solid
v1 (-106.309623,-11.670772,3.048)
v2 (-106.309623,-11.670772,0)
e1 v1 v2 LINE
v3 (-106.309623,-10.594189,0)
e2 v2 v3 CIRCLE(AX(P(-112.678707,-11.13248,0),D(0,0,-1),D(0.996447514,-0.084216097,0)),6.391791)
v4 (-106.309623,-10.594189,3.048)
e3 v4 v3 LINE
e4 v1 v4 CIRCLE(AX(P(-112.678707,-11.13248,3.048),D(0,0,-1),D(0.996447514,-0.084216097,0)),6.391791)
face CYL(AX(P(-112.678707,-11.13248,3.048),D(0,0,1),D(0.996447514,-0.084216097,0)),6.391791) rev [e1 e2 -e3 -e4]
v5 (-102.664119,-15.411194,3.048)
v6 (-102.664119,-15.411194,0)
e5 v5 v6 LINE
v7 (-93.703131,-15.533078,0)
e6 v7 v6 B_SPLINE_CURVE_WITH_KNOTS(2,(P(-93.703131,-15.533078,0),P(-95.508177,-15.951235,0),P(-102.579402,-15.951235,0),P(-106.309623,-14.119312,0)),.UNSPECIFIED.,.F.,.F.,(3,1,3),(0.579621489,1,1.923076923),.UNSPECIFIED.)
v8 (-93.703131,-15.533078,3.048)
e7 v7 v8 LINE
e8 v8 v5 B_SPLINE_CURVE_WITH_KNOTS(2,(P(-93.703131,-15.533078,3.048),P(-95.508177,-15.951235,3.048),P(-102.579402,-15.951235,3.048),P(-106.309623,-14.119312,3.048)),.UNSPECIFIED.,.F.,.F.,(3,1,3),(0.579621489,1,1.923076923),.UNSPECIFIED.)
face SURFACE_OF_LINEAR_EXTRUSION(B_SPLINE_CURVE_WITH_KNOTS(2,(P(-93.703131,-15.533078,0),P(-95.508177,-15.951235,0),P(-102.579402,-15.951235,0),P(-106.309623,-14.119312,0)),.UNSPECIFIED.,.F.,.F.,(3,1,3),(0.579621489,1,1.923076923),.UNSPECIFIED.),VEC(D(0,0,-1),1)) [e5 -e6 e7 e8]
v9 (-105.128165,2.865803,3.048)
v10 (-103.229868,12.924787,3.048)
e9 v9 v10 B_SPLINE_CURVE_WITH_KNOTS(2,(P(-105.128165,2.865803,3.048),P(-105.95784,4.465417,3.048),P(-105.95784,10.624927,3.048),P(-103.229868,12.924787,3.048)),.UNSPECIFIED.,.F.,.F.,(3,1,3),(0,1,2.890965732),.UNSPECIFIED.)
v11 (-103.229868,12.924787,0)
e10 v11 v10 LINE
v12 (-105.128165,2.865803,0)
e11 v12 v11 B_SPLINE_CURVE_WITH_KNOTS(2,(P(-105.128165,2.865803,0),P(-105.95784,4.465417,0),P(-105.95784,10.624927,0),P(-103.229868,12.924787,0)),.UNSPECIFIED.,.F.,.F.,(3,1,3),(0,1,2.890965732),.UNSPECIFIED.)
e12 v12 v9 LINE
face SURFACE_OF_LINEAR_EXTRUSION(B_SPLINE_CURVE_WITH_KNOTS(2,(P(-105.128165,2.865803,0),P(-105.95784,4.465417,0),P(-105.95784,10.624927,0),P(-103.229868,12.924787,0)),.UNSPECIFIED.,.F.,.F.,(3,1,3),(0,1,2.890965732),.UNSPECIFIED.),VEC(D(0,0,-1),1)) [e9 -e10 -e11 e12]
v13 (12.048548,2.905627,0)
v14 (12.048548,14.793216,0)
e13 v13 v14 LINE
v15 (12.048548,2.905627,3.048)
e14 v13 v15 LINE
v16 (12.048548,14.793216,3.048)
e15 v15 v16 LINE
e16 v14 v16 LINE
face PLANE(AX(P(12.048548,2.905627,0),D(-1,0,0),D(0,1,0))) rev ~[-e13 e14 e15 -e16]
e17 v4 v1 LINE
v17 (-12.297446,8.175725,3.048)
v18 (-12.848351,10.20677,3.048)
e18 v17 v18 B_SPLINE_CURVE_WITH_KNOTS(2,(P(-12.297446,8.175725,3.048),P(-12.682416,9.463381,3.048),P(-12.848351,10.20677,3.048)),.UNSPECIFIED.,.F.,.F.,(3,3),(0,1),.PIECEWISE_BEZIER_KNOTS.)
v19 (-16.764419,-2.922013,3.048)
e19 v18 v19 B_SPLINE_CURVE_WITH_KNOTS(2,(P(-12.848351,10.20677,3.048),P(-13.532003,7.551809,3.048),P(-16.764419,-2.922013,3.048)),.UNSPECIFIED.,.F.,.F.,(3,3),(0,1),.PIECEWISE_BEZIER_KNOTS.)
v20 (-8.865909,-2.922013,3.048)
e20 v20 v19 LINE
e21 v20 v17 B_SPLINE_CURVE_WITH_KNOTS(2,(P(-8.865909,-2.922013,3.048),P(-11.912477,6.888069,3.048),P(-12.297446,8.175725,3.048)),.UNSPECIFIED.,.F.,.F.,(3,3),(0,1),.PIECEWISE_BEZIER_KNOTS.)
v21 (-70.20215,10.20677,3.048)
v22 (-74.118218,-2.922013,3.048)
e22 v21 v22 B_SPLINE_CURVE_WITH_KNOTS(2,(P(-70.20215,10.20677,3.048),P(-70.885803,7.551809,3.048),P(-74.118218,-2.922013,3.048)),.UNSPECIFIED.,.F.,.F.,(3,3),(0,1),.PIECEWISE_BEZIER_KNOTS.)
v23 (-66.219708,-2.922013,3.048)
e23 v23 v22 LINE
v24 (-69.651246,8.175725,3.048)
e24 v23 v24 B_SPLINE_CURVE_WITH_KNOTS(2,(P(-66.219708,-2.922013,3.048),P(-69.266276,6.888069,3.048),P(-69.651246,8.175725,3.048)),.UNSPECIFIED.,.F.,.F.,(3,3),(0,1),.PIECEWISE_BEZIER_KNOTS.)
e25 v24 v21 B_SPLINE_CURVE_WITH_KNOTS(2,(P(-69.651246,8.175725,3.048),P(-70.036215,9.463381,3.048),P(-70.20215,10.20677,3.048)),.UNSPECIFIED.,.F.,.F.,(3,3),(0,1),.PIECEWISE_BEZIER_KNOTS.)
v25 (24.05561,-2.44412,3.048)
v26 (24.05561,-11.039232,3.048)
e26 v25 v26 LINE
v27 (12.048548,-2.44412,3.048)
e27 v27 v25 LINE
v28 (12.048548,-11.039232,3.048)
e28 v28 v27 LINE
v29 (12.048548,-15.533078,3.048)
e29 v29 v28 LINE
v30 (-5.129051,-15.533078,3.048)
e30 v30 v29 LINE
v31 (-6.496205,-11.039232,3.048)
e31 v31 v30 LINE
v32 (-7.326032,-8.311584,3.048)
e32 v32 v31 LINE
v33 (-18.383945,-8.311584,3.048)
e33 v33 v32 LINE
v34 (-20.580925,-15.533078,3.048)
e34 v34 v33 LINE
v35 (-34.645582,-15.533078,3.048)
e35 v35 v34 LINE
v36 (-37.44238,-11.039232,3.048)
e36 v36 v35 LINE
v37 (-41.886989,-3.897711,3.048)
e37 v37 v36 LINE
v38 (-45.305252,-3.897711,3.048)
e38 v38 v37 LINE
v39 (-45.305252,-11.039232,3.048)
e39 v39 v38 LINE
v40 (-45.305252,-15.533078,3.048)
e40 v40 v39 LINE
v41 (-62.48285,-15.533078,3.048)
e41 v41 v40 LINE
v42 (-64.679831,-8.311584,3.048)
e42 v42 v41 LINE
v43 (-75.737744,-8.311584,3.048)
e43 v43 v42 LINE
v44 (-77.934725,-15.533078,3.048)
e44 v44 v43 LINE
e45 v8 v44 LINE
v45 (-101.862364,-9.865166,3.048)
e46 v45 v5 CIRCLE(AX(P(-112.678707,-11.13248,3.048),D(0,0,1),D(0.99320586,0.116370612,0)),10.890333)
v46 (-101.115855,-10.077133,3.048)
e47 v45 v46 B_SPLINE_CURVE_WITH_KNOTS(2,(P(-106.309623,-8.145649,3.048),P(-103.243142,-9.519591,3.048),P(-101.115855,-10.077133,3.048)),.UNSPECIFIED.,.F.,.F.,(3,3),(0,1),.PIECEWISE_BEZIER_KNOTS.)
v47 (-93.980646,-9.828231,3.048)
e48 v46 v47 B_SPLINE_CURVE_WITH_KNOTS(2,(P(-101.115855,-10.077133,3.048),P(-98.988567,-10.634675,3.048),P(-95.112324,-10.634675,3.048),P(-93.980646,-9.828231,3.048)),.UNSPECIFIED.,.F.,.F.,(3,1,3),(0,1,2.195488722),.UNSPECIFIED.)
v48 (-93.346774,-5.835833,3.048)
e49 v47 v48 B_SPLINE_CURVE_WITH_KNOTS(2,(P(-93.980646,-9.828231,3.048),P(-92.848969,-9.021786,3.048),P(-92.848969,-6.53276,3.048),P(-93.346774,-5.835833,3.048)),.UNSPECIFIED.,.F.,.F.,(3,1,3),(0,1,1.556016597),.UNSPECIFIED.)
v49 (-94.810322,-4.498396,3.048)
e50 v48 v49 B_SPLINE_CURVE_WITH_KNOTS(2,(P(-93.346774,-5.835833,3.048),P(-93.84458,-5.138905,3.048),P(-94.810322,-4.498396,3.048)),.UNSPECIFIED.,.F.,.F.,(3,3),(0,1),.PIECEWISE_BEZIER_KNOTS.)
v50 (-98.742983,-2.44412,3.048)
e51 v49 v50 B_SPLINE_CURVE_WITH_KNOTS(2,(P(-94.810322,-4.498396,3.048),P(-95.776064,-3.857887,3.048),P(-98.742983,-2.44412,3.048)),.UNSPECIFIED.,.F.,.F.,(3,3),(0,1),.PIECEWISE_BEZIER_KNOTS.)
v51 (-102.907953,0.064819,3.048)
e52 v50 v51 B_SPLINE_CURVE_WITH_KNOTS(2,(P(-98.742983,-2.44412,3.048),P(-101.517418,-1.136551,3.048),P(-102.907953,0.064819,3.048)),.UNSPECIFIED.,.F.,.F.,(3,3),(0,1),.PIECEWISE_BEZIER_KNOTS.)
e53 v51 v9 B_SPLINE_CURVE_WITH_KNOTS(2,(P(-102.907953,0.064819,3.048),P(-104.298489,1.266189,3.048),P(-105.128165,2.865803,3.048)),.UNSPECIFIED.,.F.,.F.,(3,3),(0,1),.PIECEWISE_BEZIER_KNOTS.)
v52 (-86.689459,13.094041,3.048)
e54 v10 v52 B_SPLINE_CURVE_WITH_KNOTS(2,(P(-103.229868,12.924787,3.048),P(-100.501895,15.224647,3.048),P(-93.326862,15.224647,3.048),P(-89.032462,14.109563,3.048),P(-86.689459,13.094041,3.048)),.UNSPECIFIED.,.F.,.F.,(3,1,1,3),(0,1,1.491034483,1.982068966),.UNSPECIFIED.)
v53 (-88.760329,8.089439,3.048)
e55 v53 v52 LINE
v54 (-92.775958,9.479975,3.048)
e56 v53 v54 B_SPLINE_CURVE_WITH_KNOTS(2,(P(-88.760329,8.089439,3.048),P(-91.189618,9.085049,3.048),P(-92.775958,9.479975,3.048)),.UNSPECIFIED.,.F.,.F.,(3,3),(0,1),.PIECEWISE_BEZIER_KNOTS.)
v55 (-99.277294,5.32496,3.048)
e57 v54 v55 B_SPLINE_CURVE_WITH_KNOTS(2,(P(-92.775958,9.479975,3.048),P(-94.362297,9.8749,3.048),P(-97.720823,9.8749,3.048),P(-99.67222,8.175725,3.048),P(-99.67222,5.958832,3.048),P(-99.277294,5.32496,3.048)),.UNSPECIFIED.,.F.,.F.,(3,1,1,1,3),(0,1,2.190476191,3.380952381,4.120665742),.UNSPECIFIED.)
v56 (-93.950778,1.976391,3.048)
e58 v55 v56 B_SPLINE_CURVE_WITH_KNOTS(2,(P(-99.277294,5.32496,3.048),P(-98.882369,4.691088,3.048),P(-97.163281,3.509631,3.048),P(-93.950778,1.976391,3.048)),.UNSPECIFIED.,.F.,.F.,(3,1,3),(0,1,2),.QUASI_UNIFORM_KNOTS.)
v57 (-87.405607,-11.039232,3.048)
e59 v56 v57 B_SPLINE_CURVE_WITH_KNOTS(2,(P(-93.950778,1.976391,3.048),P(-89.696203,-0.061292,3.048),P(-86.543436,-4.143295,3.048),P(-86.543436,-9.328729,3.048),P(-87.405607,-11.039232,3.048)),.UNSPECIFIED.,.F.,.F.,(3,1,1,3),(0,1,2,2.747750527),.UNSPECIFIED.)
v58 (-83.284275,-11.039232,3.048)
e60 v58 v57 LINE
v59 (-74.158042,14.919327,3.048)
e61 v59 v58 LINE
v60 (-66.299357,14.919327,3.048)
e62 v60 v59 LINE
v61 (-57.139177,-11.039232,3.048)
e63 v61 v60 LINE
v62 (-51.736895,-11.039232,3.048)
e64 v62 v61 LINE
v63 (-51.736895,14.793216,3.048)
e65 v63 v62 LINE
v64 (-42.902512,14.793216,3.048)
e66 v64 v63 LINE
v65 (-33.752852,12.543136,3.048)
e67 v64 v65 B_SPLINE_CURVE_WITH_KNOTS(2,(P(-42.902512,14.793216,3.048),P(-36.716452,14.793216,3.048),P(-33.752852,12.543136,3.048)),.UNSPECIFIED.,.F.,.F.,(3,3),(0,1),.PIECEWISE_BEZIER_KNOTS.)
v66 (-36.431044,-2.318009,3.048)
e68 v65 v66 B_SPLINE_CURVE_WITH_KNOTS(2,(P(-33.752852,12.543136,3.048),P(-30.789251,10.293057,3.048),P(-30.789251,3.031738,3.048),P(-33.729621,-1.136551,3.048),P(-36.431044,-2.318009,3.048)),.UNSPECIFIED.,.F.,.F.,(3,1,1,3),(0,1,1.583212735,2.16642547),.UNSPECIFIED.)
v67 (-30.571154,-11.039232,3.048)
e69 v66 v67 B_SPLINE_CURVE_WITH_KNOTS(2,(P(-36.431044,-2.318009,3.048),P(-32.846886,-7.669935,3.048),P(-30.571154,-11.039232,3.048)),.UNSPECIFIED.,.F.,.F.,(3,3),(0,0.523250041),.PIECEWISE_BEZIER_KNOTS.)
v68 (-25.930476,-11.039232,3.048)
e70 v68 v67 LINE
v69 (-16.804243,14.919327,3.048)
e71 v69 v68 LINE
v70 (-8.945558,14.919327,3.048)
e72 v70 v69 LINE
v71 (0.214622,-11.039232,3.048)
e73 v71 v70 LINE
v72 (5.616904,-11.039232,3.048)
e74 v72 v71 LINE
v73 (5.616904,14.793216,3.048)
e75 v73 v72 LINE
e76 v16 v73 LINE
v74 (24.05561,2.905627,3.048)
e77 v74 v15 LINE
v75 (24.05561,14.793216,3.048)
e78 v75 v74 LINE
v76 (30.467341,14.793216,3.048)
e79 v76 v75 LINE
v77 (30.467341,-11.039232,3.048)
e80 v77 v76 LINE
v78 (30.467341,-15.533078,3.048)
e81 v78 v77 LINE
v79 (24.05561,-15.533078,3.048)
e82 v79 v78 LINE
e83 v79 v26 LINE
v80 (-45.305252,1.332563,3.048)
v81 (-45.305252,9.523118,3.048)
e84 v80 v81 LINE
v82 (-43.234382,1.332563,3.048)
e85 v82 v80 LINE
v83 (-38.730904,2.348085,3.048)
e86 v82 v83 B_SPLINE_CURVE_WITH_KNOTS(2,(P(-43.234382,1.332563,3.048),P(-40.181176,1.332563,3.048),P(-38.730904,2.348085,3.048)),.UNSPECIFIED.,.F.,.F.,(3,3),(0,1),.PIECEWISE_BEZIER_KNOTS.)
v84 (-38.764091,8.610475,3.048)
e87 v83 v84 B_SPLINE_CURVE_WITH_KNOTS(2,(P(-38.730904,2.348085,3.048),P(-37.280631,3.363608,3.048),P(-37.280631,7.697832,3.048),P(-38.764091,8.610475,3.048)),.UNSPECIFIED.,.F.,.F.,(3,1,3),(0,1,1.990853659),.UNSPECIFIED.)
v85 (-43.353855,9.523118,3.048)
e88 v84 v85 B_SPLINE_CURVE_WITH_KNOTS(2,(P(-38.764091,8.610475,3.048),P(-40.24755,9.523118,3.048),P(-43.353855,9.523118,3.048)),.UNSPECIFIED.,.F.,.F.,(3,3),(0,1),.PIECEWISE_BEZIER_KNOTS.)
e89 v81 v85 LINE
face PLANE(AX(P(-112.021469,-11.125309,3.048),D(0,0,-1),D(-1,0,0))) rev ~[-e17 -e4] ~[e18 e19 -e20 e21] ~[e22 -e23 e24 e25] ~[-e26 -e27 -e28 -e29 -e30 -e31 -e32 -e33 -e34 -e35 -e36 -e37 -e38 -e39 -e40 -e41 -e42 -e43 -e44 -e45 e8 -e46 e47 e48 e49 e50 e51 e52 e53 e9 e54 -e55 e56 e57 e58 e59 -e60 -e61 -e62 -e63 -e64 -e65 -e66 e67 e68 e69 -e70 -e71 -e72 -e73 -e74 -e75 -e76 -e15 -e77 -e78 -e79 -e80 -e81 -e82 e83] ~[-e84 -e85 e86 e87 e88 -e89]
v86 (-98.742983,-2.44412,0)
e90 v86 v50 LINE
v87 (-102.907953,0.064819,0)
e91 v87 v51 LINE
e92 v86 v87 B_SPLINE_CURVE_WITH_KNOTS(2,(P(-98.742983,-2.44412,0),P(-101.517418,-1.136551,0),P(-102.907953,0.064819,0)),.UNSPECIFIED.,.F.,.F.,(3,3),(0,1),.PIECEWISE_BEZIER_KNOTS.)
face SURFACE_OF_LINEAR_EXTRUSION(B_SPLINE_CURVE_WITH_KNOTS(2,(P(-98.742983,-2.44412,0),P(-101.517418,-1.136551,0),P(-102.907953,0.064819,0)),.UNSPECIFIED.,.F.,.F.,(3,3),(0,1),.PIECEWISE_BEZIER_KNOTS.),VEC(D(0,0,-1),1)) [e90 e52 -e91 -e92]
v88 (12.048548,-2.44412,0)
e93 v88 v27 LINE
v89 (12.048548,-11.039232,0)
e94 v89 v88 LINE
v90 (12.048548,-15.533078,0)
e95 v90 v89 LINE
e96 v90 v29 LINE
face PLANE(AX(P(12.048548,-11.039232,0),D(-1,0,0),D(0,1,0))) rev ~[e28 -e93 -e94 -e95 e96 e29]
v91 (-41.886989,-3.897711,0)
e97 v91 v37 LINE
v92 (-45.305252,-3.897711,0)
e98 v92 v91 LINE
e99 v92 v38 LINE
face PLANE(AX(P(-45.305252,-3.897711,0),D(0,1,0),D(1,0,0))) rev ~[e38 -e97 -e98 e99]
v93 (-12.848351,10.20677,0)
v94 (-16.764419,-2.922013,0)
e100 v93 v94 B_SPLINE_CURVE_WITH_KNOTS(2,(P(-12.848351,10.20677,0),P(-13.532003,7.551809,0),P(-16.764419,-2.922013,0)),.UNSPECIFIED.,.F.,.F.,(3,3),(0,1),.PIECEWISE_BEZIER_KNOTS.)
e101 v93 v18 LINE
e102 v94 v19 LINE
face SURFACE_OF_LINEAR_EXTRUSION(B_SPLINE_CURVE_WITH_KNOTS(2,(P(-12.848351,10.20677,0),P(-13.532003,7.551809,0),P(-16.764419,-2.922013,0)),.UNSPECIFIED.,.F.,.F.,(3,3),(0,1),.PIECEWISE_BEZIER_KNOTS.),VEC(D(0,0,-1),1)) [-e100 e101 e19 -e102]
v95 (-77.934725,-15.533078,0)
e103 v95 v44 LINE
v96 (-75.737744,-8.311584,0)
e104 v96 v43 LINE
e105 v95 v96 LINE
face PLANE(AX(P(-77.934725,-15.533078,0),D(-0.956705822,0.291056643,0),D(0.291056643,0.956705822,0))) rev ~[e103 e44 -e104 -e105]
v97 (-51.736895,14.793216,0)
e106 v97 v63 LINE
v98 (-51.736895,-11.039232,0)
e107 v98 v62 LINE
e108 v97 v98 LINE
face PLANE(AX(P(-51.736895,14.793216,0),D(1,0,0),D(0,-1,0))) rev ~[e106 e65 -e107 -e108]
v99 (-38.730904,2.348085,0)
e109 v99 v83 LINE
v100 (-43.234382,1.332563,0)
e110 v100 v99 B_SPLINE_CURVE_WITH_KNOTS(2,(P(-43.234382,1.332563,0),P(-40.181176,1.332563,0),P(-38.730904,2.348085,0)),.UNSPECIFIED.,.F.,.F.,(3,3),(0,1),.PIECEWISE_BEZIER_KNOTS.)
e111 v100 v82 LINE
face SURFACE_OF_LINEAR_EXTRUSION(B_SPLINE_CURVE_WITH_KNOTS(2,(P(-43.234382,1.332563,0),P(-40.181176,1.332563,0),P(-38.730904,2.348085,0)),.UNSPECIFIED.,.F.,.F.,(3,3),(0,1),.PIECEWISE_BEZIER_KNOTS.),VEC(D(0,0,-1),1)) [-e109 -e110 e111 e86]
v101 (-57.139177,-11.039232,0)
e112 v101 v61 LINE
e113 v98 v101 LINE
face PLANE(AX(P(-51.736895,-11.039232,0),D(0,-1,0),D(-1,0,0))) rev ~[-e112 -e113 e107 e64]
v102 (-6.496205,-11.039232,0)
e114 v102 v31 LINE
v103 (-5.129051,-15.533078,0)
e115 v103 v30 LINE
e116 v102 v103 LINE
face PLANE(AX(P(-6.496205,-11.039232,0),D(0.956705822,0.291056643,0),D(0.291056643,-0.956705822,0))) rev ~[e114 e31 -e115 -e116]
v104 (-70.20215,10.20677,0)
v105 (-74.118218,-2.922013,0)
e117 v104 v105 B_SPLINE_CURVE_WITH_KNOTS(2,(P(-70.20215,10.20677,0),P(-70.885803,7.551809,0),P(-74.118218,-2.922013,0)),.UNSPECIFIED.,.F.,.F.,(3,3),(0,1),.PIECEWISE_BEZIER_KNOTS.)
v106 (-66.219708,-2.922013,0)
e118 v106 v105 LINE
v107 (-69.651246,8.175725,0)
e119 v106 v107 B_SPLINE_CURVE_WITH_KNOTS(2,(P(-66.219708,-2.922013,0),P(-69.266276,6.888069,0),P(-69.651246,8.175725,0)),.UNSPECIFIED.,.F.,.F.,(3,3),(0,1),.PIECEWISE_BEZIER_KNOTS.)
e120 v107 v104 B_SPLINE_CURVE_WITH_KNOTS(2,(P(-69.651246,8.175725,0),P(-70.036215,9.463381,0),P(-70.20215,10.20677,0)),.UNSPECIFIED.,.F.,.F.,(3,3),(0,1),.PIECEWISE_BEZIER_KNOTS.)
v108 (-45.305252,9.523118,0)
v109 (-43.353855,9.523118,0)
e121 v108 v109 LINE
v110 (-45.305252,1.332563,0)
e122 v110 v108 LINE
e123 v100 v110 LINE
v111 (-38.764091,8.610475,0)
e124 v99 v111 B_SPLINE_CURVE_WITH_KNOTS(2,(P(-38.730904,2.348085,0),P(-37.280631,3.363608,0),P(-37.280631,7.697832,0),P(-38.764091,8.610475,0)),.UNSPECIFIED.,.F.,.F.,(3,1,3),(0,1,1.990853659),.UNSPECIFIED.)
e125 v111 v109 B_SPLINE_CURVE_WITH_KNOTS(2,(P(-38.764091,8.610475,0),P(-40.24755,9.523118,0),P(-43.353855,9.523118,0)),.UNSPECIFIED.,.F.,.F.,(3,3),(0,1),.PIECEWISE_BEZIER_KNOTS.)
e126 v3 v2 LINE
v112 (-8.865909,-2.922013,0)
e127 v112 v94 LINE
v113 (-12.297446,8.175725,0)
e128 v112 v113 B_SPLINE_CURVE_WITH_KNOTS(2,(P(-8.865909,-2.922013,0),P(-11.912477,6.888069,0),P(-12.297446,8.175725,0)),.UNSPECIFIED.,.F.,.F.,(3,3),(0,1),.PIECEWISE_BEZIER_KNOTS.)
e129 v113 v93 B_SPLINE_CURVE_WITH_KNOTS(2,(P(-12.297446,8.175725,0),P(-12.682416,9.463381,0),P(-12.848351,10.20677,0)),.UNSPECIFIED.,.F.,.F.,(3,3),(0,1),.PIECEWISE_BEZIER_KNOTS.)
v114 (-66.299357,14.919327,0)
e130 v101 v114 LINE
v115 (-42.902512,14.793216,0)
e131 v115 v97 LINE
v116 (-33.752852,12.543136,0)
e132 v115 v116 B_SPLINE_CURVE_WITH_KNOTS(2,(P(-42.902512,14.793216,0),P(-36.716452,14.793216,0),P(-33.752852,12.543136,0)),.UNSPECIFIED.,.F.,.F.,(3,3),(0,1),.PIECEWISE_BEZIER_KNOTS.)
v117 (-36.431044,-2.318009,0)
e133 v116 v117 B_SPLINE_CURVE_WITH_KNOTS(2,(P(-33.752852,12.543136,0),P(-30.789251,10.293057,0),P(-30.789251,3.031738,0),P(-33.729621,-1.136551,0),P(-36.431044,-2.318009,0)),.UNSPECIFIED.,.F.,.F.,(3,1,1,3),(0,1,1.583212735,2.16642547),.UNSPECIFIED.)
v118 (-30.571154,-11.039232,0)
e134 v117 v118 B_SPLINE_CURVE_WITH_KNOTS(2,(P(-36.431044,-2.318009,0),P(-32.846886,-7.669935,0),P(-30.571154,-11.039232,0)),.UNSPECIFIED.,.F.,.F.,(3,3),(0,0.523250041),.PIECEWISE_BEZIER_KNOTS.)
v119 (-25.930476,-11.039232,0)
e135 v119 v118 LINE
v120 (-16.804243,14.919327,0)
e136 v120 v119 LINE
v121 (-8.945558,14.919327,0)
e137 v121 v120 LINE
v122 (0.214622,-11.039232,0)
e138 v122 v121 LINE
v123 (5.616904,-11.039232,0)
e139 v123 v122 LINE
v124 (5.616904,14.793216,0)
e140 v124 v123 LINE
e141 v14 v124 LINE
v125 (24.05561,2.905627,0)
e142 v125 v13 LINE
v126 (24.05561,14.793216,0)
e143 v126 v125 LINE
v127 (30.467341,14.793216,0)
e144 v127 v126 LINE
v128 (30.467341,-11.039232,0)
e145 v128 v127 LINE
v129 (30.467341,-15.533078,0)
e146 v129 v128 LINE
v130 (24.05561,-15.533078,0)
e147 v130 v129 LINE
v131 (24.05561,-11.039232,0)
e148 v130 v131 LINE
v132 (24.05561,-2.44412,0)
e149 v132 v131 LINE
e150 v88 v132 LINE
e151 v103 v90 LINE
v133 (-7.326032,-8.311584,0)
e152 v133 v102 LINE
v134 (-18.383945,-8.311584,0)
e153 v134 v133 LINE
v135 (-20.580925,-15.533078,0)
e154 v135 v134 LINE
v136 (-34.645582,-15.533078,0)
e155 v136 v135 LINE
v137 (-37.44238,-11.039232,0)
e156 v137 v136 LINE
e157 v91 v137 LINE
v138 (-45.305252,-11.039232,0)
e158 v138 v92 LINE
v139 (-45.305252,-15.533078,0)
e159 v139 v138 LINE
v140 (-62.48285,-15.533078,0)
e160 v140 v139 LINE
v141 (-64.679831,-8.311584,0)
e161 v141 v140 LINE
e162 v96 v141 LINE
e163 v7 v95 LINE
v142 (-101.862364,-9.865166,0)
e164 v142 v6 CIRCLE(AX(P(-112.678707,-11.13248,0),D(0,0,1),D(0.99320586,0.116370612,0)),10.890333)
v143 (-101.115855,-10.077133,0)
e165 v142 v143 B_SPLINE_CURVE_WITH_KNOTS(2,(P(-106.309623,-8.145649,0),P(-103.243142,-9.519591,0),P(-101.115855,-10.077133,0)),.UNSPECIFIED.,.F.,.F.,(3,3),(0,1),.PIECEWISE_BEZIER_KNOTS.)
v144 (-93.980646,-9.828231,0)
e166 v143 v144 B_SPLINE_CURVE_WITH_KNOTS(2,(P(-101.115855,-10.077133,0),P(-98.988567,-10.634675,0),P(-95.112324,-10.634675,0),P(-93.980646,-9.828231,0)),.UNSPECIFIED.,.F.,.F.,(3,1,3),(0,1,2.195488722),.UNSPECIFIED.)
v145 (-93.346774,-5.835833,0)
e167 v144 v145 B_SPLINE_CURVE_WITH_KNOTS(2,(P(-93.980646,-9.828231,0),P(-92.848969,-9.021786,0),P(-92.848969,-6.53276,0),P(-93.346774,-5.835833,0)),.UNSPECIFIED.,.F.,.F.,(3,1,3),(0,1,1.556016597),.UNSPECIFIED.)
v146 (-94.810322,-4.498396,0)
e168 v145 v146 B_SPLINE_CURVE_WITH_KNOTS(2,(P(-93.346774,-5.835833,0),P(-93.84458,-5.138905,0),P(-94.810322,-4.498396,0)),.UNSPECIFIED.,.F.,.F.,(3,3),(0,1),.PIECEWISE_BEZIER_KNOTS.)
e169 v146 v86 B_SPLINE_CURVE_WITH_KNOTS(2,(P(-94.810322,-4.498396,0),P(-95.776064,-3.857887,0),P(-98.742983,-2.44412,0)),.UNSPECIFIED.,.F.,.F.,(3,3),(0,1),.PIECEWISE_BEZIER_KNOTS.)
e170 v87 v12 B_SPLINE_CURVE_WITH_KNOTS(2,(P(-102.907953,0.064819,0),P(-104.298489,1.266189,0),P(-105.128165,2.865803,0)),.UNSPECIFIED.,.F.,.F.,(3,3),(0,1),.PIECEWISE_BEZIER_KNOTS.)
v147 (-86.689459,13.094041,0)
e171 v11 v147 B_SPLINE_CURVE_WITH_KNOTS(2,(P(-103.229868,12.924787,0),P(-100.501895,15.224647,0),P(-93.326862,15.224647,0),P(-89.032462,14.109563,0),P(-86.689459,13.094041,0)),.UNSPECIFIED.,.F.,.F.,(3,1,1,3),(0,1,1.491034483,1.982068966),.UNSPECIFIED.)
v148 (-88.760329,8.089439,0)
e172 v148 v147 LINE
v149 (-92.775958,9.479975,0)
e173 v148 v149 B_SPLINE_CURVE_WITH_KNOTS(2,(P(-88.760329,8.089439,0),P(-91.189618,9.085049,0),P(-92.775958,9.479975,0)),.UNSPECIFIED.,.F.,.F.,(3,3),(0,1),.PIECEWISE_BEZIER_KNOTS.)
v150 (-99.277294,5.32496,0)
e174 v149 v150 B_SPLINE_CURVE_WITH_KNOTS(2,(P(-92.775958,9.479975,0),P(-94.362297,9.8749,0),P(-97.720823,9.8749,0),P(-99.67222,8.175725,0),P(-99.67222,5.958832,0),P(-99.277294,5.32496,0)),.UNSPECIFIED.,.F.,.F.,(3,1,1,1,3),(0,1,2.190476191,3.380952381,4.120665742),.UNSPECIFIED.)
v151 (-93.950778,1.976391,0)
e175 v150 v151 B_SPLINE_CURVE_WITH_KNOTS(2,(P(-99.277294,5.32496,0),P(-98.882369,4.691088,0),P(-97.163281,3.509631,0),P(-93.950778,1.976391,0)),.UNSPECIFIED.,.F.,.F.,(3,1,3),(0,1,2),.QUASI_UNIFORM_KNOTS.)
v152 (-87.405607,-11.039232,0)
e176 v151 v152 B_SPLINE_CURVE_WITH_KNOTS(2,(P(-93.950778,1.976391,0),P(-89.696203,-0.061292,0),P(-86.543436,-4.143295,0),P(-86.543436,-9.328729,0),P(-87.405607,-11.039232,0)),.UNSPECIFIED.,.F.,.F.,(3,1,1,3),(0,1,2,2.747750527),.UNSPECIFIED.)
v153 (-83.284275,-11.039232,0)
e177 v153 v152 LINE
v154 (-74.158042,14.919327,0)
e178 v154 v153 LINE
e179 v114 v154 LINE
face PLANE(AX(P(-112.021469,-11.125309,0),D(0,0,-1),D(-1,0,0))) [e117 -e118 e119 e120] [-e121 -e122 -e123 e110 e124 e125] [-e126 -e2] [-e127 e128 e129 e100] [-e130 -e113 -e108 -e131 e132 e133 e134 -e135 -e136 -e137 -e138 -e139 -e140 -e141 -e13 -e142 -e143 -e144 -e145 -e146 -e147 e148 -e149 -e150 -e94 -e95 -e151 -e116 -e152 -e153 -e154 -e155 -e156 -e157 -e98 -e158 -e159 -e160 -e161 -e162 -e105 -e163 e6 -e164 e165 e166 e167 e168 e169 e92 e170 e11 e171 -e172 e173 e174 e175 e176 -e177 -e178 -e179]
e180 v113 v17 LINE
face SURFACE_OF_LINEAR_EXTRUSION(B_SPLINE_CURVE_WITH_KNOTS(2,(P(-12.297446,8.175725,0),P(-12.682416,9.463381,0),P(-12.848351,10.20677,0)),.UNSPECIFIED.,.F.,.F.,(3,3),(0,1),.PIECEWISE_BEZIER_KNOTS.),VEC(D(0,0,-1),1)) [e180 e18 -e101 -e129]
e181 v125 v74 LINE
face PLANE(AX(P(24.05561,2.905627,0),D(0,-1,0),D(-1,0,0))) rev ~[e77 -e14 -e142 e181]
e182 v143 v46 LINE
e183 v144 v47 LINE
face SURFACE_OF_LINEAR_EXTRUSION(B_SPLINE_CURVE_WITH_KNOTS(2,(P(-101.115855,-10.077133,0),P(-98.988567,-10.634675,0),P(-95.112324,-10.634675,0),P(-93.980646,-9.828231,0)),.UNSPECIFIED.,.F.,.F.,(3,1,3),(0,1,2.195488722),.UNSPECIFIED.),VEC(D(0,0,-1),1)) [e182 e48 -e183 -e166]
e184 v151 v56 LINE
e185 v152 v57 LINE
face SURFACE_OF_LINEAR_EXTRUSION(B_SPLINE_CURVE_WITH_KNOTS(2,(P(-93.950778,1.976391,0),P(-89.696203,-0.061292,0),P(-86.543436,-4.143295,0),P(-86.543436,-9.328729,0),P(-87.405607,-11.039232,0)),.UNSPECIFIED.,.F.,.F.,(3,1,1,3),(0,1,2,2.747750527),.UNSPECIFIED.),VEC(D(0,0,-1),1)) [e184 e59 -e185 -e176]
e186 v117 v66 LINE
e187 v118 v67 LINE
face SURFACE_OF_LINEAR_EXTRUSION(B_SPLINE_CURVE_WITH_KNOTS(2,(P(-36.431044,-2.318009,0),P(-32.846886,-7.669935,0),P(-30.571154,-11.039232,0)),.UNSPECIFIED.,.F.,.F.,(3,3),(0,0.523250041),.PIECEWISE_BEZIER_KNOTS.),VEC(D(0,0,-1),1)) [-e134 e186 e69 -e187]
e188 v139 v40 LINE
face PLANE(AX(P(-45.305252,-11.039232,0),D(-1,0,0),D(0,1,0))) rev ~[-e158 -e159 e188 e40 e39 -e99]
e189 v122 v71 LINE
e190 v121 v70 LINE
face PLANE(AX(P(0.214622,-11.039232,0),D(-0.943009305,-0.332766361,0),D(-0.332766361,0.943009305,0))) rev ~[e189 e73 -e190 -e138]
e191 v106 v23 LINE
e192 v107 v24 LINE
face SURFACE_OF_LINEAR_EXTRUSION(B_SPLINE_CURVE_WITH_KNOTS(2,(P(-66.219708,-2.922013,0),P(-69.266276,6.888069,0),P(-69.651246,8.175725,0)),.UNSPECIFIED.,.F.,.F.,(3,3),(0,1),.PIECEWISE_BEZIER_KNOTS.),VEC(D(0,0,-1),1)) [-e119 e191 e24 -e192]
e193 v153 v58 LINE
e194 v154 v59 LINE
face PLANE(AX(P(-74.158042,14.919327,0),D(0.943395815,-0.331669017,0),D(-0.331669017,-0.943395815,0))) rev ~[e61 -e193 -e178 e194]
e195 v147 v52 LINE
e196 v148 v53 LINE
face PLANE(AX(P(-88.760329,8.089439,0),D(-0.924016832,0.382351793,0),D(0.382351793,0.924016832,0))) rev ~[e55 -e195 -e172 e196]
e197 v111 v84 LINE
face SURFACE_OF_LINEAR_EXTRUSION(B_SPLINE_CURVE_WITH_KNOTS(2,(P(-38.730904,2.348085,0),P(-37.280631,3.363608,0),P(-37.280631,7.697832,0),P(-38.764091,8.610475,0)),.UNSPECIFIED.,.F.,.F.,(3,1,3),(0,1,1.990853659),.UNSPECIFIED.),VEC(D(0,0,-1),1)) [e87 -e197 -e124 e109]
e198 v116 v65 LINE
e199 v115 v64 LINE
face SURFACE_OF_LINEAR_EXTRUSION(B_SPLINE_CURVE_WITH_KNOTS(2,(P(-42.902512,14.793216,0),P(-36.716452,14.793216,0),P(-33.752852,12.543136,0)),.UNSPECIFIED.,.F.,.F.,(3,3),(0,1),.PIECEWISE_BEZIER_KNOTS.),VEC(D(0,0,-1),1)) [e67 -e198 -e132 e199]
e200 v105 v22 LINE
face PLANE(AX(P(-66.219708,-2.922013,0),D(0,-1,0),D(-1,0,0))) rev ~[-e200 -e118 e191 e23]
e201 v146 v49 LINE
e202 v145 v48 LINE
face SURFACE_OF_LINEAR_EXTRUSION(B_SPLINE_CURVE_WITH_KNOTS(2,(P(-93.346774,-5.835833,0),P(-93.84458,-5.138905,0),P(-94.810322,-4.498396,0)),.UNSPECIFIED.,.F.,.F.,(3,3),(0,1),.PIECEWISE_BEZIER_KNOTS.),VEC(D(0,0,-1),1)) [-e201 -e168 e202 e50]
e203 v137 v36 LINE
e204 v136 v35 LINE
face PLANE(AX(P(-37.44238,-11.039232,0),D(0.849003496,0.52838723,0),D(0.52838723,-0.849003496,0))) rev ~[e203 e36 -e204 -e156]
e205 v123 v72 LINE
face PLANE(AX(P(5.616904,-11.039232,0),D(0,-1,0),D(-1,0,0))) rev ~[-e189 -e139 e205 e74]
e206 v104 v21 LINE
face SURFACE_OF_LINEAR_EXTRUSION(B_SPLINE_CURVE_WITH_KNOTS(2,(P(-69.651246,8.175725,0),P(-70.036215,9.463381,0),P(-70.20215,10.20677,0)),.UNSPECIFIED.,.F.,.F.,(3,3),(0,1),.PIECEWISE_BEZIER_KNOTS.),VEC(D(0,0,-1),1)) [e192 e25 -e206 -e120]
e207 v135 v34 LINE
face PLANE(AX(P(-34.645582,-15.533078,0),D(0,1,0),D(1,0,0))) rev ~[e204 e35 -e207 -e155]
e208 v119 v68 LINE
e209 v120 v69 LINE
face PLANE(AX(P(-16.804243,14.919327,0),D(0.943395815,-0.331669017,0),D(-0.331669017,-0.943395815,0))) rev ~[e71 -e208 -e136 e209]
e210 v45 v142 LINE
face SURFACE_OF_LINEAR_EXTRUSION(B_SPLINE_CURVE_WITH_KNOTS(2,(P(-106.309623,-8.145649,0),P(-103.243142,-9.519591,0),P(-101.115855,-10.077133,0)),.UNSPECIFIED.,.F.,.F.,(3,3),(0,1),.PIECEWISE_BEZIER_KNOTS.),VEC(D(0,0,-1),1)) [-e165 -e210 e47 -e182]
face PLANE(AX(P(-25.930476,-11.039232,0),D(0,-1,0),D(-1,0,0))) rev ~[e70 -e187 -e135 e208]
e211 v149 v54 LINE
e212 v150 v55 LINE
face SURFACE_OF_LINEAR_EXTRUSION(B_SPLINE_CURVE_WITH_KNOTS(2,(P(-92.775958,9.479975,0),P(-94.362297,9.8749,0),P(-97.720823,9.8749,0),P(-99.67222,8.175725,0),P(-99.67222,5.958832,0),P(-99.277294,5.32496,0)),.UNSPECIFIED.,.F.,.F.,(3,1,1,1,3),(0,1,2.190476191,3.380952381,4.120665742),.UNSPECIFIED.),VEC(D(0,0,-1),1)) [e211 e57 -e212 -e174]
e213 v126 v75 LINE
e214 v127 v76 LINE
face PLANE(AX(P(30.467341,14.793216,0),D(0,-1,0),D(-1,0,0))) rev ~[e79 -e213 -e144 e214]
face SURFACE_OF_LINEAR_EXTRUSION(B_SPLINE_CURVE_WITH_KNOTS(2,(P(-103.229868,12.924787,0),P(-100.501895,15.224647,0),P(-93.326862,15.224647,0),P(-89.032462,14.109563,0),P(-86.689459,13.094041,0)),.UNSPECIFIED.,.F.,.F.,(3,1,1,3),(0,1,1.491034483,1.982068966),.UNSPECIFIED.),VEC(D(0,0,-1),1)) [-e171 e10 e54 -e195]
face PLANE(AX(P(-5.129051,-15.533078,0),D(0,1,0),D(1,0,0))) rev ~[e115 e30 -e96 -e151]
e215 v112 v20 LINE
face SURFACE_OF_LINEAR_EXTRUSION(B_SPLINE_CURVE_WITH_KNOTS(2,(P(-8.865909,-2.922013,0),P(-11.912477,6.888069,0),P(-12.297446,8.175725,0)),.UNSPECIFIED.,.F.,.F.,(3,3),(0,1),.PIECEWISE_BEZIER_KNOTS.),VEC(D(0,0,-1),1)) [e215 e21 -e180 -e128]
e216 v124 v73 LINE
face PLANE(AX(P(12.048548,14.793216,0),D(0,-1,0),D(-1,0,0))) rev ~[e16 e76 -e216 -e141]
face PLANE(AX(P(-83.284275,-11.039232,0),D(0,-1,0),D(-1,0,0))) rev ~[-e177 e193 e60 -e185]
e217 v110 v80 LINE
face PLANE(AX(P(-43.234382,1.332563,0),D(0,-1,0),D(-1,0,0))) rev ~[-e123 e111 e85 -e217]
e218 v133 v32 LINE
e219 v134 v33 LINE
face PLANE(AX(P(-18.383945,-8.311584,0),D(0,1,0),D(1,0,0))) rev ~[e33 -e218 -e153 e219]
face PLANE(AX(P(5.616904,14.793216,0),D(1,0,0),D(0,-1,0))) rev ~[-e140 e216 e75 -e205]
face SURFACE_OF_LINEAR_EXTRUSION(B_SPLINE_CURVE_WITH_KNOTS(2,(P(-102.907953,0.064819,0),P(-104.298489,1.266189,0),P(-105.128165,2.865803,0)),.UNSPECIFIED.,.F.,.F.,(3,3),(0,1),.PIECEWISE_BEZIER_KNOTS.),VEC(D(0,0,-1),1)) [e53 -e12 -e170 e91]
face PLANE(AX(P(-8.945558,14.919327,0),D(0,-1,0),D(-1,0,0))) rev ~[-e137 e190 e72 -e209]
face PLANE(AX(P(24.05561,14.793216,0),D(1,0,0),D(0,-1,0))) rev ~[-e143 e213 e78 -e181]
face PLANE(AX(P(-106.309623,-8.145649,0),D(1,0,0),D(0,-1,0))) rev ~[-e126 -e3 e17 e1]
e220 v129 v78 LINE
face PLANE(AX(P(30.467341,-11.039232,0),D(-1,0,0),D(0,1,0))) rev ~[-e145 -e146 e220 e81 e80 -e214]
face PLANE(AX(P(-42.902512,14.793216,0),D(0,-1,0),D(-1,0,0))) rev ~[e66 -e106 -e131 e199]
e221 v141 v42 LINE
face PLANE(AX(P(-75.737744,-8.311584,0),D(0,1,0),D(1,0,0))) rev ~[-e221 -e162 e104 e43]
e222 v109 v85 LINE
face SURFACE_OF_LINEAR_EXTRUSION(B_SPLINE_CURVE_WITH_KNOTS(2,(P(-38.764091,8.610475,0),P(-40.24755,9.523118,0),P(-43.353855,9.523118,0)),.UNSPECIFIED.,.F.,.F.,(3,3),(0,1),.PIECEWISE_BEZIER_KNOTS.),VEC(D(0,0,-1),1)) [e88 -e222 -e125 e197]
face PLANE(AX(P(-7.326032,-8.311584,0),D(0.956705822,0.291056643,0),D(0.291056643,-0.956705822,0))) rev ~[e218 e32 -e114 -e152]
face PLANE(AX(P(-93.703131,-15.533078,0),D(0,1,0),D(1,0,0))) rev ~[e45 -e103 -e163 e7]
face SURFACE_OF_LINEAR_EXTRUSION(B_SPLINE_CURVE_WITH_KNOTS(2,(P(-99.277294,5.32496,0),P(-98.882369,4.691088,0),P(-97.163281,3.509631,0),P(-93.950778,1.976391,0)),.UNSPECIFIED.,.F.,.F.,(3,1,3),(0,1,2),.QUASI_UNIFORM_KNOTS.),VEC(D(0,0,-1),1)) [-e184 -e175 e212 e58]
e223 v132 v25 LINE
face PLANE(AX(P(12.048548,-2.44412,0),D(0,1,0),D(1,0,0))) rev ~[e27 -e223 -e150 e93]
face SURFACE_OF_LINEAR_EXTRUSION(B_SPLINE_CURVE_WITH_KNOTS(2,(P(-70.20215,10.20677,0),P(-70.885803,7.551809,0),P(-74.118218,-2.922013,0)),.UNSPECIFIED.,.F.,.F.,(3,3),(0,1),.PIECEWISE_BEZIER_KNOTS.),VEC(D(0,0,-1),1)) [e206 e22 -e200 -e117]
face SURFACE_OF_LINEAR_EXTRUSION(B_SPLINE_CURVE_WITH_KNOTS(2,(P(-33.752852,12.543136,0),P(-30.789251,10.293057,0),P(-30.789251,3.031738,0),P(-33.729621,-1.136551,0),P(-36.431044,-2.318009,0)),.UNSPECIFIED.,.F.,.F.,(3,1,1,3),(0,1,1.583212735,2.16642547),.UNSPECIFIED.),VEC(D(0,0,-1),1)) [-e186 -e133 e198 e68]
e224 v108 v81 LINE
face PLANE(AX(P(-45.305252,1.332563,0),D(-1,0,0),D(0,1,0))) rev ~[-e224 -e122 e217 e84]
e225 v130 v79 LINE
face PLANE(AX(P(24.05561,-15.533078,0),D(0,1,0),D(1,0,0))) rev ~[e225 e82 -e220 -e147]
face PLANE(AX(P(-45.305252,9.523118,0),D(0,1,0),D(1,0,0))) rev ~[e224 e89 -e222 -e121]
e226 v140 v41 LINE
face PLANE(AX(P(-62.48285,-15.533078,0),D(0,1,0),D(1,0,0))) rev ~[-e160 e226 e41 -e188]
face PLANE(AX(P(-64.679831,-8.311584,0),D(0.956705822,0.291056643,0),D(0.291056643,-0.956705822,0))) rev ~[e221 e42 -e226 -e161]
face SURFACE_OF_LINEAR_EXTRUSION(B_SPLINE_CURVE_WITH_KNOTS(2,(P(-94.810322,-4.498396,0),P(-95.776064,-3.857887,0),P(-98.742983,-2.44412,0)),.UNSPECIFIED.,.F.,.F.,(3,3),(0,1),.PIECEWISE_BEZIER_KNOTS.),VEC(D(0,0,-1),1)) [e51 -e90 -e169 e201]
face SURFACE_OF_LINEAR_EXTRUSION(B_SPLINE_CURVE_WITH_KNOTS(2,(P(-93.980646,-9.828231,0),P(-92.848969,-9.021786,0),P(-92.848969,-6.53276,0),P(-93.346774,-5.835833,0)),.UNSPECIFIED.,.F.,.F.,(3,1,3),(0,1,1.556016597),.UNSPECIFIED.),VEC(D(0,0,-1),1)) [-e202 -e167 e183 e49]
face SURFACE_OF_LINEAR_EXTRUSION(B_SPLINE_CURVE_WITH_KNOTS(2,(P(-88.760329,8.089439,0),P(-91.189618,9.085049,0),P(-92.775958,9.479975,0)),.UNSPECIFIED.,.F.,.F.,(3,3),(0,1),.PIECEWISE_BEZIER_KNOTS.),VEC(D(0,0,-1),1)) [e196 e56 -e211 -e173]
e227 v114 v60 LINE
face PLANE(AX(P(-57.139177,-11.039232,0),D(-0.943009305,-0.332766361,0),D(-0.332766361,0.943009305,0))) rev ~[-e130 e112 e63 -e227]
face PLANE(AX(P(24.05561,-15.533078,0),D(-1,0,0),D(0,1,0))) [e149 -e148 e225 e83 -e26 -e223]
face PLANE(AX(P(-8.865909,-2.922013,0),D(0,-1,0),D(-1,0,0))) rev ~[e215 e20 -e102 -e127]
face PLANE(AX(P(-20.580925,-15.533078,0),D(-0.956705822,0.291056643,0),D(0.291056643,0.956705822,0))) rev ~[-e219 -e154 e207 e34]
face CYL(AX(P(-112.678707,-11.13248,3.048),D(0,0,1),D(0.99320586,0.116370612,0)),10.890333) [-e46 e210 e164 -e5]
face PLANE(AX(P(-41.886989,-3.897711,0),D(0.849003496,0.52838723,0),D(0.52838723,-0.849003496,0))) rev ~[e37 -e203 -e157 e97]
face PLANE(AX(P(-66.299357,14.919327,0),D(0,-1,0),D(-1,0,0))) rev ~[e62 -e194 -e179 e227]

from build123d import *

# Parameters (mm, degrees)
F0_W     = 6.4316435079
F0_H     = 4.493846558
F0_W_2   = 6.4117312989
F1_DEPTH = 3.048
F3_DEPTH = 3.048


with BuildPart() as f1:
    # F0 (on Top) → F1 (new body)
    with BuildSketch(Plane.XY):
        with BuildLine():
            add(Edge.make_bspline(
                [(-93.7031314291, -15.5330784619), (-95.5081773044, -15.9512348509), (-97.720823026, -15.9512348509)],
                knots=[0.5796214889, 0.5796214889, 0.5796214889, 1, 1, 1], degree=2))
            add(Edge.make_bspline(
                [(-89.5003994093, -13.5850006811), (-91.2143187275, -14.9565208538), (-93.7031314291, -15.5330784619)],
                knots=[0, 0, 0, 0.5796214889, 0.5796214889, 0.5796214889], degree=2))
            add(Edge.make_bspline(
                [(-87.4056067535, -11.0392319039), (-88.1401222991, -12.4964736558), (-89.5003994093, -13.5850006811)],
                knots=[0.539974936, 0.539974936, 0.539974936, 1, 1, 1], degree=2))
            add(Edge.make_bspline(
                [(-86.5434363724, -7.1102140537), (-86.5434363724, -9.3287294042), (-87.4056067535, -11.0392319039)],
                knots=[0, 0, 0, 0.539974936, 0.539974936, 0.539974936], degree=2))
            add(Edge.make_bspline(
                [(-88.1198195851, -2.1022934895), (-86.5434363724, -4.1432949123), (-86.5434363724, -7.1102140537)],
                knots=[0, 0, 0, 1, 1, 1], degree=2))
            add(Edge.make_bspline(
                [(-93.9507781214, 1.9763906546), (-89.6962027978, -0.0612920667), (-88.1198195851, -2.1022934895)],
                knots=[0, 0, 0, 1, 1, 1], degree=2))
            add(Edge.make_bspline(
                [(-98.0228248625, 4.1003596149), (-97.1632811739, 3.5096307478), (-93.9507781214, 1.9763906546)],
                knots=[0, 0, 0, 1, 1, 1], degree=2))
            add(Edge.make_bspline(
                [(-99.2772940297, 5.3249604686), (-98.8823685511, 4.691088482), (-98.0228248625, 4.1003596149)],
                knots=[0, 0, 0, 1, 1, 1], degree=2))
            add(Edge.make_bspline(
                [(-99.6722195082, 6.8084200393), (-99.6722195082, 5.9588324552), (-99.2772940297, 5.3249604686)],
                knots=[0, 0, 0, 1, 1, 1], degree=2))
            add(Edge.make_bspline(
                [(-98.6965212671, 9.0253126416), (-99.6722195082, 8.1757250575), (-99.6722195082, 6.8084200393)],
                knots=[0, 0, 0, 1, 1, 1], degree=2))
            add(Edge.make_bspline(
                [(-95.8955372007, 9.8749002257), (-97.720823026, 9.8749002257), (-98.6965212671, 9.0253126416)],
                knots=[0, 0, 0, 1, 1, 1], degree=2))
            add(Edge.make_bspline(
                [(-92.7759577903, 9.4799747472), (-94.3622971075, 9.8749002257), (-95.8955372007, 9.8749002257)],
                knots=[0, 0, 0, 1, 1, 1], degree=2))
            add(Edge.make_bspline(
                [(-88.7603289747, 8.0894388185), (-91.189618473, 9.0850492686), (-92.7759577903, 9.4799747472)],
                knots=[0, 0, 0, 1, 1, 1], degree=2))
            Line((-88.7603289747, 8.0894388185), (-86.6894592384, 13.0940406812))
            add(Edge.make_bspline(
                [(-91.1796623685, 14.6671051924), (-89.0324624977, 14.1095633403), (-86.6894592384, 13.0940406812)],
                knots=[0, 0, 0, 1, 1, 1], degree=2))
            add(Edge.make_bspline(
                [(-95.6897777077, 15.2246470445), (-93.3268622393, 15.2246470445), (-91.1796623685, 14.6671051924)],
                knots=[0, 0, 0, 1, 1, 1], degree=2))
            add(Edge.make_bspline(
                [(-103.2298675168, 12.9247869047), (-100.5018948834, 15.2246470445), (-95.6897777077, 15.2246470445)],
                knots=[0, 0, 0, 1, 1, 1], degree=2))
            add(Edge.make_bspline(
                [(-105.9578401501, 6.5960231433), (-105.9578401501, 10.6249267649), (-103.2298675168, 12.9247869047)],
                knots=[0, 0, 0, 1, 1, 1], degree=2))
            add(Edge.make_bspline(
                [(-105.128164775, 2.8658026567), (-105.9578401501, 4.46541678), (-105.9578401501, 6.5960231433)],
                knots=[0, 0, 0, 1, 1, 1], degree=2))
            add(Edge.make_bspline(
                [(-102.9079534712, 0.0648185903), (-104.2984893999, 1.2661885335), (-105.128164775, 2.8658026567)],
                knots=[0, 0, 0, 1, 1, 1], degree=2))
            add(Edge.make_bspline(
                [(-98.7429830881, -2.444119744), (-101.5174175425, -1.1365513528), (-102.9079534712, 0.0648185903)],
                knots=[0, 0, 0, 1, 1, 1], degree=2))
            add(Edge.make_bspline(
                [(-94.81032181, -4.4983959728), (-95.7760639467, -3.8578865832), (-98.7429830881, -2.444119744)],
                knots=[0, 0, 0, 1, 1, 1], degree=2))
            add(Edge.make_bspline(
                [(-93.3467744483, -5.8358326775), (-93.8445796734, -5.1389053624), (-94.81032181, -4.4983959728)],
                knots=[0, 0, 0, 1, 1, 1], degree=2))
            add(Edge.make_bspline(
                [(-92.8489692233, -7.4221719947), (-92.8489692233, -6.5327599926), (-93.3467744483, -5.8358326775)],
                knots=[0, 0, 0, 1, 1, 1], degree=2))
            add(Edge.make_bspline(
                [(-93.9806464349, -9.8282305826), (-92.8489692233, -9.021786118), (-92.8489692233, -7.4221719947)],
                knots=[0, 0, 0, 1, 1, 1], degree=2))
            add(Edge.make_bspline(
                [(-97.2230178009, -10.6346750472), (-95.1123236466, -10.6346750472), (-93.9806464349, -9.8282305826)],
                knots=[0, 0, 0, 1, 1, 1], degree=2))
            add(Edge.make_bspline(
                [(-101.1158546609, -10.0771331951), (-98.9885669991, -10.6346750472), (-97.2230178009, -10.6346750472)],
                knots=[0, 0, 0, 1, 1, 1], degree=2))
            add(Edge.make_bspline(
                [(-106.3096225092, -8.1456489218), (-103.2431423228, -9.519591343), (-101.1158546609, -10.0771331951)],
                knots=[0, 0, 0, 1, 1, 1], degree=2))
            Line((-106.3096225092, -8.1456489218), (-106.3096225092, -14.1193116227))
            add(Edge.make_bspline(
                [(-97.720823026, -15.9512348509), (-102.5794020227, -15.9512348509), (-106.3096225092, -14.1193116227)],
                knots=[0, 0, 0, 1, 1, 1], degree=2))
        make_face()
        with BuildLine():
            Line((-93.7031314291, -15.5330784619), (-84.8641734131, -15.5330784619))
            Line((-84.8641734131, -15.5330784619), (-83.2842748739, -11.0392319039))
            Line((-83.2842748739, -11.0392319039), (-87.4056067535, -11.0392319039))
            add(Edge.make_bspline(
                [(-87.4056067535, -11.0392319039), (-88.1401222991, -12.4964736558), (-89.5003994093, -13.5850006811)],
                knots=[0.539974936, 0.539974936, 0.539974936, 1, 1, 1], degree=2))
            add(Edge.make_bspline(
                [(-89.5003994093, -13.5850006811), (-91.2143187275, -14.9565208538), (-93.7031314291, -15.5330784619)],
                knots=[0, 0, 0, 0.5796214889, 0.5796214889, 0.5796214889], degree=2))
        make_face()
        Polygon((-83.2842748739, -11.0392319039), (-84.8641734131, -15.5330784619), (-77.9347246801, -15.5330784619), (-76.5675709938, -11.0392319039), align=None)
        Polygon((-74.1580423726, 14.9193265065), (-83.2842748739, -11.0392319039), (-76.5675709938, -11.0392319039), (-75.7377442868, -8.3115839969), (-64.6798308872, -8.3115839969), (-63.8500041802, -11.0392319039), (-57.1391771702, -11.0392319039), (-66.2993572195, 14.9193265065), align=None)
        with BuildLine():
            add(Edge.make_bspline(
                [(-66.2197083835, -2.9220127601), (-69.2662763609, 6.8880688753), (-69.651245735, 8.1757250575)],
                knots=[0, 0, 0, 1, 1, 1], degree=2))
            Line((-66.2197083835, -2.9220127601), (-74.1182179546, -2.9220127601))
            add(Edge.make_bspline(
                [(-70.202150184, 10.2067703758), (-70.8858026931, 7.5518091754), (-74.1182179546, -2.9220127601)],
                knots=[0, 0, 0, 1, 1, 1], degree=2))
            add(Edge.make_bspline(
                [(-69.651245735, 8.1757250575), (-70.036215109, 9.4633812397), (-70.202150184, 10.2067703758)],
                knots=[0, 0, 0, 1, 1, 1], degree=2))
        make_face(mode=Mode.SUBTRACT)
        Polygon((-63.8500041802, -11.0392319039), (-62.4828504939, -15.5330784619), (-55.5534017609, -15.5330784619), (-57.1391771702, -11.0392319039), align=None)
        Polygon((-57.1391771702, -11.0392319039), (-55.5534017609, -15.5330784619), (-51.7368950354, -15.5330784619), (-51.7368950354, -11.0392319039), align=None)
        with Locations((-48.5210732814, -13.2861551829)):
            Rectangle(F0_W, F0_H)
        with BuildLine():
            Line((-51.7368950354, 14.7932158494), (-51.7368950354, -11.0392319039))
            Line((-51.7368950354, -11.0392319039), (-45.3052515275, -11.0392319039))
            Line((-45.3052515275, -11.0392319039), (-45.3052515275, -3.8977110012))
            Line((-45.3052515275, -3.8977110012), (-41.886988982, -3.8977110012))
            Line((-41.886988982, -3.8977110012), (-37.4423801373, -11.0392319039))
            Line((-37.4423801373, -11.0392319039), (-30.5711537413, -11.0392319039))
            add(Edge.make_bspline(
                [(-36.4310437152, -2.318009087), (-32.8468856368, -7.6699350549), (-30.5711537413, -11.0392319039)],
                knots=[0, 0, 0, 0.5232500412, 0.5232500412, 0.5232500412], degree=2))
            add(Edge.make_bspline(
                [(-32.2594359291, 0.9475931895), (-33.7296206938, -1.1365513528), (-36.4310437152, -2.318009087)],
                knots=[0, 0, 0, 1, 1, 1], degree=2))
            add(Edge.make_bspline(
                [(-30.7892511644, 5.7066111411), (-30.7892511644, 3.0317377318), (-32.2594359291, 0.9475931895)],
                knots=[0, 0, 0, 1, 1, 1], degree=2))
            add(Edge.make_bspline(
                [(-33.7528516043, 12.5431362321), (-30.7892511644, 10.2930566148), (-30.7892511644, 5.7066111411)],
                knots=[0, 0, 0, 1, 1, 1], degree=2))
            add(Edge.make_bspline(
                [(-42.9025116411, 14.7932158494), (-36.7164520443, 14.7932158494), (-33.7528516043, 12.5431362321)],
                knots=[0, 0, 0, 1, 1, 1], degree=2))
            Line((-42.9025116411, 14.7932158494), (-51.7368950354, 14.7932158494))
        make_face()
        with BuildLine():
            Line((-43.2343817912, 1.3325625635), (-45.3052515275, 1.3325625635))
            Line((-45.3052515275, 1.3325625635), (-45.3052515275, 9.5231178667))
            Line((-45.3052515275, 9.5231178667), (-43.3538550452, 9.5231178667))
            add(Edge.make_bspline(
                [(-38.76409087, 8.6104749541), (-40.2475504408, 9.5231178667), (-43.3538550452, 9.5231178667)],
                knots=[0, 0, 0, 1, 1, 1], degree=2))
            add(Edge.make_bspline(
                [(-37.2806312993, 5.5406760661), (-37.2806312993, 7.6978320414), (-38.76409087, 8.6104749541)],
                knots=[0, 0, 0, 1, 1, 1], degree=2))
            add(Edge.make_bspline(
                [(-38.730903855, 2.3480852227), (-37.2806312993, 3.3636078818), (-37.2806312993, 5.5406760661)],
                knots=[0, 0, 0, 1, 1, 1], degree=2))
            add(Edge.make_bspline(
                [(-43.2343817912, 1.3325625635), (-40.1811764107, 1.3325625635), (-38.730903855, 2.3480852227)],
                knots=[0, 0, 0, 1, 1, 1], degree=2))
        make_face(mode=Mode.SUBTRACT)
        with BuildLine():
            Line((-37.4423801373, -11.0392319039), (-34.645582308, -15.5330784619))
            Line((-34.645582308, -15.5330784619), (-27.5103740819, -15.5330784619))
            add(Edge.make_bspline(
                [(-30.5711537413, -11.0392319039), (-28.4976611434, -14.1091067387), (-27.5103740819, -15.5330784619)],
                knots=[0.5232500412, 0.5232500412, 0.5232500412, 1, 1, 1], degree=2))
            Line((-30.5711537413, -11.0392319039), (-37.4423801373, -11.0392319039))
        make_face()
        Polygon((-25.9304755427, -11.0392319039), (-27.5103740819, -15.5330784619), (-20.5809253489, -15.5330784619), (-19.2137716626, -11.0392319039), align=None)
        Polygon((-16.8042430414, 14.9193265065), (-25.9304755427, -11.0392319039), (-19.2137716626, -11.0392319039), (-18.3839449556, -8.3115839969), (-7.3260315561, -8.3115839969), (-6.4962048491, -11.0392319039), (0.214622161, -11.0392319039), (-8.9455578883, 14.9193265065), align=None)
        with BuildLine():
            add(Edge.make_bspline(
                [(-8.8659090523, -2.9220127601), (-11.9124770297, 6.8880688753), (-12.2974464038, 8.1757250575)],
                knots=[0, 0, 0, 1, 1, 1], degree=2))
            Line((-8.8659090523, -2.9220127601), (-16.7644186234, -2.9220127601))
            add(Edge.make_bspline(
                [(-12.8483508528, 10.2067703758), (-13.5320033619, 7.5518091754), (-16.7644186234, -2.9220127601)],
                knots=[0, 0, 0, 1, 1, 1], degree=2))
            add(Edge.make_bspline(
                [(-12.2974464038, 8.1757250575), (-12.6824157778, 9.4633812397), (-12.8483508528, 10.2067703758)],
                knots=[0, 0, 0, 1, 1, 1], degree=2))
        make_face(mode=Mode.SUBTRACT)
        Polygon((-6.4962048491, -11.0392319039), (-5.1290511627, -15.5330784619), (1.8003975703, -15.5330784619), (0.214622161, -11.0392319039), align=None)
        with Locations((8.8327260498, -13.2861551829)):
            Rectangle(F0_W, F0_H)
        Polygon((5.6169042958, 14.7932158494), (5.6169042958, -11.0392319039), (12.0485478037, -11.0392319039), (12.0485478037, -2.444119744), (24.0556098324, -2.444119744), (24.0556098324, -11.0392319039), (30.4673411313, -11.0392319039), (30.4673411313, 14.7932158494), (24.0556098324, 14.7932158494), (24.0556098324, 2.9056270747), (12.0485478037, 2.9056270747), (12.0485478037, 14.7932158494), align=None)
        with Locations((27.2614754819, -13.2861551829)):
            Rectangle(F0_W_2, F0_H)
        Polygon((0.214622161, -11.0392319039), (1.8003975703, -15.5330784619), (5.6169042958, -15.5330784619), (5.6169042958, -11.0392319039), align=None)
        with BuildLine():
            add(Edge.make_bspline(
                [(-30.5711537413, -11.0392319039), (-28.4976611434, -14.1091067387), (-27.5103740819, -15.5330784619)],
                knots=[0.5232500412, 0.5232500412, 0.5232500412, 1, 1, 1], degree=2))
            Line((-27.5103740819, -15.5330784619), (-25.9304755427, -11.0392319039))
            Line((-25.9304755427, -11.0392319039), (-30.5711537413, -11.0392319039))
        make_face()
    extrude(amount=F1_DEPTH)

    # F2 (on face) → F3 (join)
    with BuildSketch(Plane.XY.offset(3.048)):
        with BuildLine():
            add(Edge.make_bspline(
                [(-101.8623637859, -9.8651655257), (-103.7618212116, -9.2871962565), (-106.3096225092, -8.1456489218)],
                knots=[8.3558901367, 8.3558901367, 8.3558901367, 9.6058387309, 9.6058387309, 9.6058387309], degree=2))
            ThreePointArc((-101.8623637859, -9.8651655257), (-123.4569962159, -9.5743296119), (-102.6641187967, -15.4111938339))
            add(Edge.make_bspline(
                [(-106.3096225092, -14.1193116227), (-104.6047247744, -14.9565923608), (-102.6641187967, -15.4111938339)],
                knots=[0, 0, 0, 0.4570501237, 0.4570501237, 0.4570501237], degree=2))
            Line((-106.3096225092, -14.1193116227), (-106.3096225092, -11.6707719543))
            ThreePointArc((-106.3096225092, -11.6707719543), (-119.0704975277, -11.1324802723), (-106.3096225092, -10.5941885902))
            Line((-106.3096225092, -10.5941885902), (-106.3096225092, -8.1456489218))
        make_face()
    extrude(amount=-F3_DEPTH)


solid = f1.part
